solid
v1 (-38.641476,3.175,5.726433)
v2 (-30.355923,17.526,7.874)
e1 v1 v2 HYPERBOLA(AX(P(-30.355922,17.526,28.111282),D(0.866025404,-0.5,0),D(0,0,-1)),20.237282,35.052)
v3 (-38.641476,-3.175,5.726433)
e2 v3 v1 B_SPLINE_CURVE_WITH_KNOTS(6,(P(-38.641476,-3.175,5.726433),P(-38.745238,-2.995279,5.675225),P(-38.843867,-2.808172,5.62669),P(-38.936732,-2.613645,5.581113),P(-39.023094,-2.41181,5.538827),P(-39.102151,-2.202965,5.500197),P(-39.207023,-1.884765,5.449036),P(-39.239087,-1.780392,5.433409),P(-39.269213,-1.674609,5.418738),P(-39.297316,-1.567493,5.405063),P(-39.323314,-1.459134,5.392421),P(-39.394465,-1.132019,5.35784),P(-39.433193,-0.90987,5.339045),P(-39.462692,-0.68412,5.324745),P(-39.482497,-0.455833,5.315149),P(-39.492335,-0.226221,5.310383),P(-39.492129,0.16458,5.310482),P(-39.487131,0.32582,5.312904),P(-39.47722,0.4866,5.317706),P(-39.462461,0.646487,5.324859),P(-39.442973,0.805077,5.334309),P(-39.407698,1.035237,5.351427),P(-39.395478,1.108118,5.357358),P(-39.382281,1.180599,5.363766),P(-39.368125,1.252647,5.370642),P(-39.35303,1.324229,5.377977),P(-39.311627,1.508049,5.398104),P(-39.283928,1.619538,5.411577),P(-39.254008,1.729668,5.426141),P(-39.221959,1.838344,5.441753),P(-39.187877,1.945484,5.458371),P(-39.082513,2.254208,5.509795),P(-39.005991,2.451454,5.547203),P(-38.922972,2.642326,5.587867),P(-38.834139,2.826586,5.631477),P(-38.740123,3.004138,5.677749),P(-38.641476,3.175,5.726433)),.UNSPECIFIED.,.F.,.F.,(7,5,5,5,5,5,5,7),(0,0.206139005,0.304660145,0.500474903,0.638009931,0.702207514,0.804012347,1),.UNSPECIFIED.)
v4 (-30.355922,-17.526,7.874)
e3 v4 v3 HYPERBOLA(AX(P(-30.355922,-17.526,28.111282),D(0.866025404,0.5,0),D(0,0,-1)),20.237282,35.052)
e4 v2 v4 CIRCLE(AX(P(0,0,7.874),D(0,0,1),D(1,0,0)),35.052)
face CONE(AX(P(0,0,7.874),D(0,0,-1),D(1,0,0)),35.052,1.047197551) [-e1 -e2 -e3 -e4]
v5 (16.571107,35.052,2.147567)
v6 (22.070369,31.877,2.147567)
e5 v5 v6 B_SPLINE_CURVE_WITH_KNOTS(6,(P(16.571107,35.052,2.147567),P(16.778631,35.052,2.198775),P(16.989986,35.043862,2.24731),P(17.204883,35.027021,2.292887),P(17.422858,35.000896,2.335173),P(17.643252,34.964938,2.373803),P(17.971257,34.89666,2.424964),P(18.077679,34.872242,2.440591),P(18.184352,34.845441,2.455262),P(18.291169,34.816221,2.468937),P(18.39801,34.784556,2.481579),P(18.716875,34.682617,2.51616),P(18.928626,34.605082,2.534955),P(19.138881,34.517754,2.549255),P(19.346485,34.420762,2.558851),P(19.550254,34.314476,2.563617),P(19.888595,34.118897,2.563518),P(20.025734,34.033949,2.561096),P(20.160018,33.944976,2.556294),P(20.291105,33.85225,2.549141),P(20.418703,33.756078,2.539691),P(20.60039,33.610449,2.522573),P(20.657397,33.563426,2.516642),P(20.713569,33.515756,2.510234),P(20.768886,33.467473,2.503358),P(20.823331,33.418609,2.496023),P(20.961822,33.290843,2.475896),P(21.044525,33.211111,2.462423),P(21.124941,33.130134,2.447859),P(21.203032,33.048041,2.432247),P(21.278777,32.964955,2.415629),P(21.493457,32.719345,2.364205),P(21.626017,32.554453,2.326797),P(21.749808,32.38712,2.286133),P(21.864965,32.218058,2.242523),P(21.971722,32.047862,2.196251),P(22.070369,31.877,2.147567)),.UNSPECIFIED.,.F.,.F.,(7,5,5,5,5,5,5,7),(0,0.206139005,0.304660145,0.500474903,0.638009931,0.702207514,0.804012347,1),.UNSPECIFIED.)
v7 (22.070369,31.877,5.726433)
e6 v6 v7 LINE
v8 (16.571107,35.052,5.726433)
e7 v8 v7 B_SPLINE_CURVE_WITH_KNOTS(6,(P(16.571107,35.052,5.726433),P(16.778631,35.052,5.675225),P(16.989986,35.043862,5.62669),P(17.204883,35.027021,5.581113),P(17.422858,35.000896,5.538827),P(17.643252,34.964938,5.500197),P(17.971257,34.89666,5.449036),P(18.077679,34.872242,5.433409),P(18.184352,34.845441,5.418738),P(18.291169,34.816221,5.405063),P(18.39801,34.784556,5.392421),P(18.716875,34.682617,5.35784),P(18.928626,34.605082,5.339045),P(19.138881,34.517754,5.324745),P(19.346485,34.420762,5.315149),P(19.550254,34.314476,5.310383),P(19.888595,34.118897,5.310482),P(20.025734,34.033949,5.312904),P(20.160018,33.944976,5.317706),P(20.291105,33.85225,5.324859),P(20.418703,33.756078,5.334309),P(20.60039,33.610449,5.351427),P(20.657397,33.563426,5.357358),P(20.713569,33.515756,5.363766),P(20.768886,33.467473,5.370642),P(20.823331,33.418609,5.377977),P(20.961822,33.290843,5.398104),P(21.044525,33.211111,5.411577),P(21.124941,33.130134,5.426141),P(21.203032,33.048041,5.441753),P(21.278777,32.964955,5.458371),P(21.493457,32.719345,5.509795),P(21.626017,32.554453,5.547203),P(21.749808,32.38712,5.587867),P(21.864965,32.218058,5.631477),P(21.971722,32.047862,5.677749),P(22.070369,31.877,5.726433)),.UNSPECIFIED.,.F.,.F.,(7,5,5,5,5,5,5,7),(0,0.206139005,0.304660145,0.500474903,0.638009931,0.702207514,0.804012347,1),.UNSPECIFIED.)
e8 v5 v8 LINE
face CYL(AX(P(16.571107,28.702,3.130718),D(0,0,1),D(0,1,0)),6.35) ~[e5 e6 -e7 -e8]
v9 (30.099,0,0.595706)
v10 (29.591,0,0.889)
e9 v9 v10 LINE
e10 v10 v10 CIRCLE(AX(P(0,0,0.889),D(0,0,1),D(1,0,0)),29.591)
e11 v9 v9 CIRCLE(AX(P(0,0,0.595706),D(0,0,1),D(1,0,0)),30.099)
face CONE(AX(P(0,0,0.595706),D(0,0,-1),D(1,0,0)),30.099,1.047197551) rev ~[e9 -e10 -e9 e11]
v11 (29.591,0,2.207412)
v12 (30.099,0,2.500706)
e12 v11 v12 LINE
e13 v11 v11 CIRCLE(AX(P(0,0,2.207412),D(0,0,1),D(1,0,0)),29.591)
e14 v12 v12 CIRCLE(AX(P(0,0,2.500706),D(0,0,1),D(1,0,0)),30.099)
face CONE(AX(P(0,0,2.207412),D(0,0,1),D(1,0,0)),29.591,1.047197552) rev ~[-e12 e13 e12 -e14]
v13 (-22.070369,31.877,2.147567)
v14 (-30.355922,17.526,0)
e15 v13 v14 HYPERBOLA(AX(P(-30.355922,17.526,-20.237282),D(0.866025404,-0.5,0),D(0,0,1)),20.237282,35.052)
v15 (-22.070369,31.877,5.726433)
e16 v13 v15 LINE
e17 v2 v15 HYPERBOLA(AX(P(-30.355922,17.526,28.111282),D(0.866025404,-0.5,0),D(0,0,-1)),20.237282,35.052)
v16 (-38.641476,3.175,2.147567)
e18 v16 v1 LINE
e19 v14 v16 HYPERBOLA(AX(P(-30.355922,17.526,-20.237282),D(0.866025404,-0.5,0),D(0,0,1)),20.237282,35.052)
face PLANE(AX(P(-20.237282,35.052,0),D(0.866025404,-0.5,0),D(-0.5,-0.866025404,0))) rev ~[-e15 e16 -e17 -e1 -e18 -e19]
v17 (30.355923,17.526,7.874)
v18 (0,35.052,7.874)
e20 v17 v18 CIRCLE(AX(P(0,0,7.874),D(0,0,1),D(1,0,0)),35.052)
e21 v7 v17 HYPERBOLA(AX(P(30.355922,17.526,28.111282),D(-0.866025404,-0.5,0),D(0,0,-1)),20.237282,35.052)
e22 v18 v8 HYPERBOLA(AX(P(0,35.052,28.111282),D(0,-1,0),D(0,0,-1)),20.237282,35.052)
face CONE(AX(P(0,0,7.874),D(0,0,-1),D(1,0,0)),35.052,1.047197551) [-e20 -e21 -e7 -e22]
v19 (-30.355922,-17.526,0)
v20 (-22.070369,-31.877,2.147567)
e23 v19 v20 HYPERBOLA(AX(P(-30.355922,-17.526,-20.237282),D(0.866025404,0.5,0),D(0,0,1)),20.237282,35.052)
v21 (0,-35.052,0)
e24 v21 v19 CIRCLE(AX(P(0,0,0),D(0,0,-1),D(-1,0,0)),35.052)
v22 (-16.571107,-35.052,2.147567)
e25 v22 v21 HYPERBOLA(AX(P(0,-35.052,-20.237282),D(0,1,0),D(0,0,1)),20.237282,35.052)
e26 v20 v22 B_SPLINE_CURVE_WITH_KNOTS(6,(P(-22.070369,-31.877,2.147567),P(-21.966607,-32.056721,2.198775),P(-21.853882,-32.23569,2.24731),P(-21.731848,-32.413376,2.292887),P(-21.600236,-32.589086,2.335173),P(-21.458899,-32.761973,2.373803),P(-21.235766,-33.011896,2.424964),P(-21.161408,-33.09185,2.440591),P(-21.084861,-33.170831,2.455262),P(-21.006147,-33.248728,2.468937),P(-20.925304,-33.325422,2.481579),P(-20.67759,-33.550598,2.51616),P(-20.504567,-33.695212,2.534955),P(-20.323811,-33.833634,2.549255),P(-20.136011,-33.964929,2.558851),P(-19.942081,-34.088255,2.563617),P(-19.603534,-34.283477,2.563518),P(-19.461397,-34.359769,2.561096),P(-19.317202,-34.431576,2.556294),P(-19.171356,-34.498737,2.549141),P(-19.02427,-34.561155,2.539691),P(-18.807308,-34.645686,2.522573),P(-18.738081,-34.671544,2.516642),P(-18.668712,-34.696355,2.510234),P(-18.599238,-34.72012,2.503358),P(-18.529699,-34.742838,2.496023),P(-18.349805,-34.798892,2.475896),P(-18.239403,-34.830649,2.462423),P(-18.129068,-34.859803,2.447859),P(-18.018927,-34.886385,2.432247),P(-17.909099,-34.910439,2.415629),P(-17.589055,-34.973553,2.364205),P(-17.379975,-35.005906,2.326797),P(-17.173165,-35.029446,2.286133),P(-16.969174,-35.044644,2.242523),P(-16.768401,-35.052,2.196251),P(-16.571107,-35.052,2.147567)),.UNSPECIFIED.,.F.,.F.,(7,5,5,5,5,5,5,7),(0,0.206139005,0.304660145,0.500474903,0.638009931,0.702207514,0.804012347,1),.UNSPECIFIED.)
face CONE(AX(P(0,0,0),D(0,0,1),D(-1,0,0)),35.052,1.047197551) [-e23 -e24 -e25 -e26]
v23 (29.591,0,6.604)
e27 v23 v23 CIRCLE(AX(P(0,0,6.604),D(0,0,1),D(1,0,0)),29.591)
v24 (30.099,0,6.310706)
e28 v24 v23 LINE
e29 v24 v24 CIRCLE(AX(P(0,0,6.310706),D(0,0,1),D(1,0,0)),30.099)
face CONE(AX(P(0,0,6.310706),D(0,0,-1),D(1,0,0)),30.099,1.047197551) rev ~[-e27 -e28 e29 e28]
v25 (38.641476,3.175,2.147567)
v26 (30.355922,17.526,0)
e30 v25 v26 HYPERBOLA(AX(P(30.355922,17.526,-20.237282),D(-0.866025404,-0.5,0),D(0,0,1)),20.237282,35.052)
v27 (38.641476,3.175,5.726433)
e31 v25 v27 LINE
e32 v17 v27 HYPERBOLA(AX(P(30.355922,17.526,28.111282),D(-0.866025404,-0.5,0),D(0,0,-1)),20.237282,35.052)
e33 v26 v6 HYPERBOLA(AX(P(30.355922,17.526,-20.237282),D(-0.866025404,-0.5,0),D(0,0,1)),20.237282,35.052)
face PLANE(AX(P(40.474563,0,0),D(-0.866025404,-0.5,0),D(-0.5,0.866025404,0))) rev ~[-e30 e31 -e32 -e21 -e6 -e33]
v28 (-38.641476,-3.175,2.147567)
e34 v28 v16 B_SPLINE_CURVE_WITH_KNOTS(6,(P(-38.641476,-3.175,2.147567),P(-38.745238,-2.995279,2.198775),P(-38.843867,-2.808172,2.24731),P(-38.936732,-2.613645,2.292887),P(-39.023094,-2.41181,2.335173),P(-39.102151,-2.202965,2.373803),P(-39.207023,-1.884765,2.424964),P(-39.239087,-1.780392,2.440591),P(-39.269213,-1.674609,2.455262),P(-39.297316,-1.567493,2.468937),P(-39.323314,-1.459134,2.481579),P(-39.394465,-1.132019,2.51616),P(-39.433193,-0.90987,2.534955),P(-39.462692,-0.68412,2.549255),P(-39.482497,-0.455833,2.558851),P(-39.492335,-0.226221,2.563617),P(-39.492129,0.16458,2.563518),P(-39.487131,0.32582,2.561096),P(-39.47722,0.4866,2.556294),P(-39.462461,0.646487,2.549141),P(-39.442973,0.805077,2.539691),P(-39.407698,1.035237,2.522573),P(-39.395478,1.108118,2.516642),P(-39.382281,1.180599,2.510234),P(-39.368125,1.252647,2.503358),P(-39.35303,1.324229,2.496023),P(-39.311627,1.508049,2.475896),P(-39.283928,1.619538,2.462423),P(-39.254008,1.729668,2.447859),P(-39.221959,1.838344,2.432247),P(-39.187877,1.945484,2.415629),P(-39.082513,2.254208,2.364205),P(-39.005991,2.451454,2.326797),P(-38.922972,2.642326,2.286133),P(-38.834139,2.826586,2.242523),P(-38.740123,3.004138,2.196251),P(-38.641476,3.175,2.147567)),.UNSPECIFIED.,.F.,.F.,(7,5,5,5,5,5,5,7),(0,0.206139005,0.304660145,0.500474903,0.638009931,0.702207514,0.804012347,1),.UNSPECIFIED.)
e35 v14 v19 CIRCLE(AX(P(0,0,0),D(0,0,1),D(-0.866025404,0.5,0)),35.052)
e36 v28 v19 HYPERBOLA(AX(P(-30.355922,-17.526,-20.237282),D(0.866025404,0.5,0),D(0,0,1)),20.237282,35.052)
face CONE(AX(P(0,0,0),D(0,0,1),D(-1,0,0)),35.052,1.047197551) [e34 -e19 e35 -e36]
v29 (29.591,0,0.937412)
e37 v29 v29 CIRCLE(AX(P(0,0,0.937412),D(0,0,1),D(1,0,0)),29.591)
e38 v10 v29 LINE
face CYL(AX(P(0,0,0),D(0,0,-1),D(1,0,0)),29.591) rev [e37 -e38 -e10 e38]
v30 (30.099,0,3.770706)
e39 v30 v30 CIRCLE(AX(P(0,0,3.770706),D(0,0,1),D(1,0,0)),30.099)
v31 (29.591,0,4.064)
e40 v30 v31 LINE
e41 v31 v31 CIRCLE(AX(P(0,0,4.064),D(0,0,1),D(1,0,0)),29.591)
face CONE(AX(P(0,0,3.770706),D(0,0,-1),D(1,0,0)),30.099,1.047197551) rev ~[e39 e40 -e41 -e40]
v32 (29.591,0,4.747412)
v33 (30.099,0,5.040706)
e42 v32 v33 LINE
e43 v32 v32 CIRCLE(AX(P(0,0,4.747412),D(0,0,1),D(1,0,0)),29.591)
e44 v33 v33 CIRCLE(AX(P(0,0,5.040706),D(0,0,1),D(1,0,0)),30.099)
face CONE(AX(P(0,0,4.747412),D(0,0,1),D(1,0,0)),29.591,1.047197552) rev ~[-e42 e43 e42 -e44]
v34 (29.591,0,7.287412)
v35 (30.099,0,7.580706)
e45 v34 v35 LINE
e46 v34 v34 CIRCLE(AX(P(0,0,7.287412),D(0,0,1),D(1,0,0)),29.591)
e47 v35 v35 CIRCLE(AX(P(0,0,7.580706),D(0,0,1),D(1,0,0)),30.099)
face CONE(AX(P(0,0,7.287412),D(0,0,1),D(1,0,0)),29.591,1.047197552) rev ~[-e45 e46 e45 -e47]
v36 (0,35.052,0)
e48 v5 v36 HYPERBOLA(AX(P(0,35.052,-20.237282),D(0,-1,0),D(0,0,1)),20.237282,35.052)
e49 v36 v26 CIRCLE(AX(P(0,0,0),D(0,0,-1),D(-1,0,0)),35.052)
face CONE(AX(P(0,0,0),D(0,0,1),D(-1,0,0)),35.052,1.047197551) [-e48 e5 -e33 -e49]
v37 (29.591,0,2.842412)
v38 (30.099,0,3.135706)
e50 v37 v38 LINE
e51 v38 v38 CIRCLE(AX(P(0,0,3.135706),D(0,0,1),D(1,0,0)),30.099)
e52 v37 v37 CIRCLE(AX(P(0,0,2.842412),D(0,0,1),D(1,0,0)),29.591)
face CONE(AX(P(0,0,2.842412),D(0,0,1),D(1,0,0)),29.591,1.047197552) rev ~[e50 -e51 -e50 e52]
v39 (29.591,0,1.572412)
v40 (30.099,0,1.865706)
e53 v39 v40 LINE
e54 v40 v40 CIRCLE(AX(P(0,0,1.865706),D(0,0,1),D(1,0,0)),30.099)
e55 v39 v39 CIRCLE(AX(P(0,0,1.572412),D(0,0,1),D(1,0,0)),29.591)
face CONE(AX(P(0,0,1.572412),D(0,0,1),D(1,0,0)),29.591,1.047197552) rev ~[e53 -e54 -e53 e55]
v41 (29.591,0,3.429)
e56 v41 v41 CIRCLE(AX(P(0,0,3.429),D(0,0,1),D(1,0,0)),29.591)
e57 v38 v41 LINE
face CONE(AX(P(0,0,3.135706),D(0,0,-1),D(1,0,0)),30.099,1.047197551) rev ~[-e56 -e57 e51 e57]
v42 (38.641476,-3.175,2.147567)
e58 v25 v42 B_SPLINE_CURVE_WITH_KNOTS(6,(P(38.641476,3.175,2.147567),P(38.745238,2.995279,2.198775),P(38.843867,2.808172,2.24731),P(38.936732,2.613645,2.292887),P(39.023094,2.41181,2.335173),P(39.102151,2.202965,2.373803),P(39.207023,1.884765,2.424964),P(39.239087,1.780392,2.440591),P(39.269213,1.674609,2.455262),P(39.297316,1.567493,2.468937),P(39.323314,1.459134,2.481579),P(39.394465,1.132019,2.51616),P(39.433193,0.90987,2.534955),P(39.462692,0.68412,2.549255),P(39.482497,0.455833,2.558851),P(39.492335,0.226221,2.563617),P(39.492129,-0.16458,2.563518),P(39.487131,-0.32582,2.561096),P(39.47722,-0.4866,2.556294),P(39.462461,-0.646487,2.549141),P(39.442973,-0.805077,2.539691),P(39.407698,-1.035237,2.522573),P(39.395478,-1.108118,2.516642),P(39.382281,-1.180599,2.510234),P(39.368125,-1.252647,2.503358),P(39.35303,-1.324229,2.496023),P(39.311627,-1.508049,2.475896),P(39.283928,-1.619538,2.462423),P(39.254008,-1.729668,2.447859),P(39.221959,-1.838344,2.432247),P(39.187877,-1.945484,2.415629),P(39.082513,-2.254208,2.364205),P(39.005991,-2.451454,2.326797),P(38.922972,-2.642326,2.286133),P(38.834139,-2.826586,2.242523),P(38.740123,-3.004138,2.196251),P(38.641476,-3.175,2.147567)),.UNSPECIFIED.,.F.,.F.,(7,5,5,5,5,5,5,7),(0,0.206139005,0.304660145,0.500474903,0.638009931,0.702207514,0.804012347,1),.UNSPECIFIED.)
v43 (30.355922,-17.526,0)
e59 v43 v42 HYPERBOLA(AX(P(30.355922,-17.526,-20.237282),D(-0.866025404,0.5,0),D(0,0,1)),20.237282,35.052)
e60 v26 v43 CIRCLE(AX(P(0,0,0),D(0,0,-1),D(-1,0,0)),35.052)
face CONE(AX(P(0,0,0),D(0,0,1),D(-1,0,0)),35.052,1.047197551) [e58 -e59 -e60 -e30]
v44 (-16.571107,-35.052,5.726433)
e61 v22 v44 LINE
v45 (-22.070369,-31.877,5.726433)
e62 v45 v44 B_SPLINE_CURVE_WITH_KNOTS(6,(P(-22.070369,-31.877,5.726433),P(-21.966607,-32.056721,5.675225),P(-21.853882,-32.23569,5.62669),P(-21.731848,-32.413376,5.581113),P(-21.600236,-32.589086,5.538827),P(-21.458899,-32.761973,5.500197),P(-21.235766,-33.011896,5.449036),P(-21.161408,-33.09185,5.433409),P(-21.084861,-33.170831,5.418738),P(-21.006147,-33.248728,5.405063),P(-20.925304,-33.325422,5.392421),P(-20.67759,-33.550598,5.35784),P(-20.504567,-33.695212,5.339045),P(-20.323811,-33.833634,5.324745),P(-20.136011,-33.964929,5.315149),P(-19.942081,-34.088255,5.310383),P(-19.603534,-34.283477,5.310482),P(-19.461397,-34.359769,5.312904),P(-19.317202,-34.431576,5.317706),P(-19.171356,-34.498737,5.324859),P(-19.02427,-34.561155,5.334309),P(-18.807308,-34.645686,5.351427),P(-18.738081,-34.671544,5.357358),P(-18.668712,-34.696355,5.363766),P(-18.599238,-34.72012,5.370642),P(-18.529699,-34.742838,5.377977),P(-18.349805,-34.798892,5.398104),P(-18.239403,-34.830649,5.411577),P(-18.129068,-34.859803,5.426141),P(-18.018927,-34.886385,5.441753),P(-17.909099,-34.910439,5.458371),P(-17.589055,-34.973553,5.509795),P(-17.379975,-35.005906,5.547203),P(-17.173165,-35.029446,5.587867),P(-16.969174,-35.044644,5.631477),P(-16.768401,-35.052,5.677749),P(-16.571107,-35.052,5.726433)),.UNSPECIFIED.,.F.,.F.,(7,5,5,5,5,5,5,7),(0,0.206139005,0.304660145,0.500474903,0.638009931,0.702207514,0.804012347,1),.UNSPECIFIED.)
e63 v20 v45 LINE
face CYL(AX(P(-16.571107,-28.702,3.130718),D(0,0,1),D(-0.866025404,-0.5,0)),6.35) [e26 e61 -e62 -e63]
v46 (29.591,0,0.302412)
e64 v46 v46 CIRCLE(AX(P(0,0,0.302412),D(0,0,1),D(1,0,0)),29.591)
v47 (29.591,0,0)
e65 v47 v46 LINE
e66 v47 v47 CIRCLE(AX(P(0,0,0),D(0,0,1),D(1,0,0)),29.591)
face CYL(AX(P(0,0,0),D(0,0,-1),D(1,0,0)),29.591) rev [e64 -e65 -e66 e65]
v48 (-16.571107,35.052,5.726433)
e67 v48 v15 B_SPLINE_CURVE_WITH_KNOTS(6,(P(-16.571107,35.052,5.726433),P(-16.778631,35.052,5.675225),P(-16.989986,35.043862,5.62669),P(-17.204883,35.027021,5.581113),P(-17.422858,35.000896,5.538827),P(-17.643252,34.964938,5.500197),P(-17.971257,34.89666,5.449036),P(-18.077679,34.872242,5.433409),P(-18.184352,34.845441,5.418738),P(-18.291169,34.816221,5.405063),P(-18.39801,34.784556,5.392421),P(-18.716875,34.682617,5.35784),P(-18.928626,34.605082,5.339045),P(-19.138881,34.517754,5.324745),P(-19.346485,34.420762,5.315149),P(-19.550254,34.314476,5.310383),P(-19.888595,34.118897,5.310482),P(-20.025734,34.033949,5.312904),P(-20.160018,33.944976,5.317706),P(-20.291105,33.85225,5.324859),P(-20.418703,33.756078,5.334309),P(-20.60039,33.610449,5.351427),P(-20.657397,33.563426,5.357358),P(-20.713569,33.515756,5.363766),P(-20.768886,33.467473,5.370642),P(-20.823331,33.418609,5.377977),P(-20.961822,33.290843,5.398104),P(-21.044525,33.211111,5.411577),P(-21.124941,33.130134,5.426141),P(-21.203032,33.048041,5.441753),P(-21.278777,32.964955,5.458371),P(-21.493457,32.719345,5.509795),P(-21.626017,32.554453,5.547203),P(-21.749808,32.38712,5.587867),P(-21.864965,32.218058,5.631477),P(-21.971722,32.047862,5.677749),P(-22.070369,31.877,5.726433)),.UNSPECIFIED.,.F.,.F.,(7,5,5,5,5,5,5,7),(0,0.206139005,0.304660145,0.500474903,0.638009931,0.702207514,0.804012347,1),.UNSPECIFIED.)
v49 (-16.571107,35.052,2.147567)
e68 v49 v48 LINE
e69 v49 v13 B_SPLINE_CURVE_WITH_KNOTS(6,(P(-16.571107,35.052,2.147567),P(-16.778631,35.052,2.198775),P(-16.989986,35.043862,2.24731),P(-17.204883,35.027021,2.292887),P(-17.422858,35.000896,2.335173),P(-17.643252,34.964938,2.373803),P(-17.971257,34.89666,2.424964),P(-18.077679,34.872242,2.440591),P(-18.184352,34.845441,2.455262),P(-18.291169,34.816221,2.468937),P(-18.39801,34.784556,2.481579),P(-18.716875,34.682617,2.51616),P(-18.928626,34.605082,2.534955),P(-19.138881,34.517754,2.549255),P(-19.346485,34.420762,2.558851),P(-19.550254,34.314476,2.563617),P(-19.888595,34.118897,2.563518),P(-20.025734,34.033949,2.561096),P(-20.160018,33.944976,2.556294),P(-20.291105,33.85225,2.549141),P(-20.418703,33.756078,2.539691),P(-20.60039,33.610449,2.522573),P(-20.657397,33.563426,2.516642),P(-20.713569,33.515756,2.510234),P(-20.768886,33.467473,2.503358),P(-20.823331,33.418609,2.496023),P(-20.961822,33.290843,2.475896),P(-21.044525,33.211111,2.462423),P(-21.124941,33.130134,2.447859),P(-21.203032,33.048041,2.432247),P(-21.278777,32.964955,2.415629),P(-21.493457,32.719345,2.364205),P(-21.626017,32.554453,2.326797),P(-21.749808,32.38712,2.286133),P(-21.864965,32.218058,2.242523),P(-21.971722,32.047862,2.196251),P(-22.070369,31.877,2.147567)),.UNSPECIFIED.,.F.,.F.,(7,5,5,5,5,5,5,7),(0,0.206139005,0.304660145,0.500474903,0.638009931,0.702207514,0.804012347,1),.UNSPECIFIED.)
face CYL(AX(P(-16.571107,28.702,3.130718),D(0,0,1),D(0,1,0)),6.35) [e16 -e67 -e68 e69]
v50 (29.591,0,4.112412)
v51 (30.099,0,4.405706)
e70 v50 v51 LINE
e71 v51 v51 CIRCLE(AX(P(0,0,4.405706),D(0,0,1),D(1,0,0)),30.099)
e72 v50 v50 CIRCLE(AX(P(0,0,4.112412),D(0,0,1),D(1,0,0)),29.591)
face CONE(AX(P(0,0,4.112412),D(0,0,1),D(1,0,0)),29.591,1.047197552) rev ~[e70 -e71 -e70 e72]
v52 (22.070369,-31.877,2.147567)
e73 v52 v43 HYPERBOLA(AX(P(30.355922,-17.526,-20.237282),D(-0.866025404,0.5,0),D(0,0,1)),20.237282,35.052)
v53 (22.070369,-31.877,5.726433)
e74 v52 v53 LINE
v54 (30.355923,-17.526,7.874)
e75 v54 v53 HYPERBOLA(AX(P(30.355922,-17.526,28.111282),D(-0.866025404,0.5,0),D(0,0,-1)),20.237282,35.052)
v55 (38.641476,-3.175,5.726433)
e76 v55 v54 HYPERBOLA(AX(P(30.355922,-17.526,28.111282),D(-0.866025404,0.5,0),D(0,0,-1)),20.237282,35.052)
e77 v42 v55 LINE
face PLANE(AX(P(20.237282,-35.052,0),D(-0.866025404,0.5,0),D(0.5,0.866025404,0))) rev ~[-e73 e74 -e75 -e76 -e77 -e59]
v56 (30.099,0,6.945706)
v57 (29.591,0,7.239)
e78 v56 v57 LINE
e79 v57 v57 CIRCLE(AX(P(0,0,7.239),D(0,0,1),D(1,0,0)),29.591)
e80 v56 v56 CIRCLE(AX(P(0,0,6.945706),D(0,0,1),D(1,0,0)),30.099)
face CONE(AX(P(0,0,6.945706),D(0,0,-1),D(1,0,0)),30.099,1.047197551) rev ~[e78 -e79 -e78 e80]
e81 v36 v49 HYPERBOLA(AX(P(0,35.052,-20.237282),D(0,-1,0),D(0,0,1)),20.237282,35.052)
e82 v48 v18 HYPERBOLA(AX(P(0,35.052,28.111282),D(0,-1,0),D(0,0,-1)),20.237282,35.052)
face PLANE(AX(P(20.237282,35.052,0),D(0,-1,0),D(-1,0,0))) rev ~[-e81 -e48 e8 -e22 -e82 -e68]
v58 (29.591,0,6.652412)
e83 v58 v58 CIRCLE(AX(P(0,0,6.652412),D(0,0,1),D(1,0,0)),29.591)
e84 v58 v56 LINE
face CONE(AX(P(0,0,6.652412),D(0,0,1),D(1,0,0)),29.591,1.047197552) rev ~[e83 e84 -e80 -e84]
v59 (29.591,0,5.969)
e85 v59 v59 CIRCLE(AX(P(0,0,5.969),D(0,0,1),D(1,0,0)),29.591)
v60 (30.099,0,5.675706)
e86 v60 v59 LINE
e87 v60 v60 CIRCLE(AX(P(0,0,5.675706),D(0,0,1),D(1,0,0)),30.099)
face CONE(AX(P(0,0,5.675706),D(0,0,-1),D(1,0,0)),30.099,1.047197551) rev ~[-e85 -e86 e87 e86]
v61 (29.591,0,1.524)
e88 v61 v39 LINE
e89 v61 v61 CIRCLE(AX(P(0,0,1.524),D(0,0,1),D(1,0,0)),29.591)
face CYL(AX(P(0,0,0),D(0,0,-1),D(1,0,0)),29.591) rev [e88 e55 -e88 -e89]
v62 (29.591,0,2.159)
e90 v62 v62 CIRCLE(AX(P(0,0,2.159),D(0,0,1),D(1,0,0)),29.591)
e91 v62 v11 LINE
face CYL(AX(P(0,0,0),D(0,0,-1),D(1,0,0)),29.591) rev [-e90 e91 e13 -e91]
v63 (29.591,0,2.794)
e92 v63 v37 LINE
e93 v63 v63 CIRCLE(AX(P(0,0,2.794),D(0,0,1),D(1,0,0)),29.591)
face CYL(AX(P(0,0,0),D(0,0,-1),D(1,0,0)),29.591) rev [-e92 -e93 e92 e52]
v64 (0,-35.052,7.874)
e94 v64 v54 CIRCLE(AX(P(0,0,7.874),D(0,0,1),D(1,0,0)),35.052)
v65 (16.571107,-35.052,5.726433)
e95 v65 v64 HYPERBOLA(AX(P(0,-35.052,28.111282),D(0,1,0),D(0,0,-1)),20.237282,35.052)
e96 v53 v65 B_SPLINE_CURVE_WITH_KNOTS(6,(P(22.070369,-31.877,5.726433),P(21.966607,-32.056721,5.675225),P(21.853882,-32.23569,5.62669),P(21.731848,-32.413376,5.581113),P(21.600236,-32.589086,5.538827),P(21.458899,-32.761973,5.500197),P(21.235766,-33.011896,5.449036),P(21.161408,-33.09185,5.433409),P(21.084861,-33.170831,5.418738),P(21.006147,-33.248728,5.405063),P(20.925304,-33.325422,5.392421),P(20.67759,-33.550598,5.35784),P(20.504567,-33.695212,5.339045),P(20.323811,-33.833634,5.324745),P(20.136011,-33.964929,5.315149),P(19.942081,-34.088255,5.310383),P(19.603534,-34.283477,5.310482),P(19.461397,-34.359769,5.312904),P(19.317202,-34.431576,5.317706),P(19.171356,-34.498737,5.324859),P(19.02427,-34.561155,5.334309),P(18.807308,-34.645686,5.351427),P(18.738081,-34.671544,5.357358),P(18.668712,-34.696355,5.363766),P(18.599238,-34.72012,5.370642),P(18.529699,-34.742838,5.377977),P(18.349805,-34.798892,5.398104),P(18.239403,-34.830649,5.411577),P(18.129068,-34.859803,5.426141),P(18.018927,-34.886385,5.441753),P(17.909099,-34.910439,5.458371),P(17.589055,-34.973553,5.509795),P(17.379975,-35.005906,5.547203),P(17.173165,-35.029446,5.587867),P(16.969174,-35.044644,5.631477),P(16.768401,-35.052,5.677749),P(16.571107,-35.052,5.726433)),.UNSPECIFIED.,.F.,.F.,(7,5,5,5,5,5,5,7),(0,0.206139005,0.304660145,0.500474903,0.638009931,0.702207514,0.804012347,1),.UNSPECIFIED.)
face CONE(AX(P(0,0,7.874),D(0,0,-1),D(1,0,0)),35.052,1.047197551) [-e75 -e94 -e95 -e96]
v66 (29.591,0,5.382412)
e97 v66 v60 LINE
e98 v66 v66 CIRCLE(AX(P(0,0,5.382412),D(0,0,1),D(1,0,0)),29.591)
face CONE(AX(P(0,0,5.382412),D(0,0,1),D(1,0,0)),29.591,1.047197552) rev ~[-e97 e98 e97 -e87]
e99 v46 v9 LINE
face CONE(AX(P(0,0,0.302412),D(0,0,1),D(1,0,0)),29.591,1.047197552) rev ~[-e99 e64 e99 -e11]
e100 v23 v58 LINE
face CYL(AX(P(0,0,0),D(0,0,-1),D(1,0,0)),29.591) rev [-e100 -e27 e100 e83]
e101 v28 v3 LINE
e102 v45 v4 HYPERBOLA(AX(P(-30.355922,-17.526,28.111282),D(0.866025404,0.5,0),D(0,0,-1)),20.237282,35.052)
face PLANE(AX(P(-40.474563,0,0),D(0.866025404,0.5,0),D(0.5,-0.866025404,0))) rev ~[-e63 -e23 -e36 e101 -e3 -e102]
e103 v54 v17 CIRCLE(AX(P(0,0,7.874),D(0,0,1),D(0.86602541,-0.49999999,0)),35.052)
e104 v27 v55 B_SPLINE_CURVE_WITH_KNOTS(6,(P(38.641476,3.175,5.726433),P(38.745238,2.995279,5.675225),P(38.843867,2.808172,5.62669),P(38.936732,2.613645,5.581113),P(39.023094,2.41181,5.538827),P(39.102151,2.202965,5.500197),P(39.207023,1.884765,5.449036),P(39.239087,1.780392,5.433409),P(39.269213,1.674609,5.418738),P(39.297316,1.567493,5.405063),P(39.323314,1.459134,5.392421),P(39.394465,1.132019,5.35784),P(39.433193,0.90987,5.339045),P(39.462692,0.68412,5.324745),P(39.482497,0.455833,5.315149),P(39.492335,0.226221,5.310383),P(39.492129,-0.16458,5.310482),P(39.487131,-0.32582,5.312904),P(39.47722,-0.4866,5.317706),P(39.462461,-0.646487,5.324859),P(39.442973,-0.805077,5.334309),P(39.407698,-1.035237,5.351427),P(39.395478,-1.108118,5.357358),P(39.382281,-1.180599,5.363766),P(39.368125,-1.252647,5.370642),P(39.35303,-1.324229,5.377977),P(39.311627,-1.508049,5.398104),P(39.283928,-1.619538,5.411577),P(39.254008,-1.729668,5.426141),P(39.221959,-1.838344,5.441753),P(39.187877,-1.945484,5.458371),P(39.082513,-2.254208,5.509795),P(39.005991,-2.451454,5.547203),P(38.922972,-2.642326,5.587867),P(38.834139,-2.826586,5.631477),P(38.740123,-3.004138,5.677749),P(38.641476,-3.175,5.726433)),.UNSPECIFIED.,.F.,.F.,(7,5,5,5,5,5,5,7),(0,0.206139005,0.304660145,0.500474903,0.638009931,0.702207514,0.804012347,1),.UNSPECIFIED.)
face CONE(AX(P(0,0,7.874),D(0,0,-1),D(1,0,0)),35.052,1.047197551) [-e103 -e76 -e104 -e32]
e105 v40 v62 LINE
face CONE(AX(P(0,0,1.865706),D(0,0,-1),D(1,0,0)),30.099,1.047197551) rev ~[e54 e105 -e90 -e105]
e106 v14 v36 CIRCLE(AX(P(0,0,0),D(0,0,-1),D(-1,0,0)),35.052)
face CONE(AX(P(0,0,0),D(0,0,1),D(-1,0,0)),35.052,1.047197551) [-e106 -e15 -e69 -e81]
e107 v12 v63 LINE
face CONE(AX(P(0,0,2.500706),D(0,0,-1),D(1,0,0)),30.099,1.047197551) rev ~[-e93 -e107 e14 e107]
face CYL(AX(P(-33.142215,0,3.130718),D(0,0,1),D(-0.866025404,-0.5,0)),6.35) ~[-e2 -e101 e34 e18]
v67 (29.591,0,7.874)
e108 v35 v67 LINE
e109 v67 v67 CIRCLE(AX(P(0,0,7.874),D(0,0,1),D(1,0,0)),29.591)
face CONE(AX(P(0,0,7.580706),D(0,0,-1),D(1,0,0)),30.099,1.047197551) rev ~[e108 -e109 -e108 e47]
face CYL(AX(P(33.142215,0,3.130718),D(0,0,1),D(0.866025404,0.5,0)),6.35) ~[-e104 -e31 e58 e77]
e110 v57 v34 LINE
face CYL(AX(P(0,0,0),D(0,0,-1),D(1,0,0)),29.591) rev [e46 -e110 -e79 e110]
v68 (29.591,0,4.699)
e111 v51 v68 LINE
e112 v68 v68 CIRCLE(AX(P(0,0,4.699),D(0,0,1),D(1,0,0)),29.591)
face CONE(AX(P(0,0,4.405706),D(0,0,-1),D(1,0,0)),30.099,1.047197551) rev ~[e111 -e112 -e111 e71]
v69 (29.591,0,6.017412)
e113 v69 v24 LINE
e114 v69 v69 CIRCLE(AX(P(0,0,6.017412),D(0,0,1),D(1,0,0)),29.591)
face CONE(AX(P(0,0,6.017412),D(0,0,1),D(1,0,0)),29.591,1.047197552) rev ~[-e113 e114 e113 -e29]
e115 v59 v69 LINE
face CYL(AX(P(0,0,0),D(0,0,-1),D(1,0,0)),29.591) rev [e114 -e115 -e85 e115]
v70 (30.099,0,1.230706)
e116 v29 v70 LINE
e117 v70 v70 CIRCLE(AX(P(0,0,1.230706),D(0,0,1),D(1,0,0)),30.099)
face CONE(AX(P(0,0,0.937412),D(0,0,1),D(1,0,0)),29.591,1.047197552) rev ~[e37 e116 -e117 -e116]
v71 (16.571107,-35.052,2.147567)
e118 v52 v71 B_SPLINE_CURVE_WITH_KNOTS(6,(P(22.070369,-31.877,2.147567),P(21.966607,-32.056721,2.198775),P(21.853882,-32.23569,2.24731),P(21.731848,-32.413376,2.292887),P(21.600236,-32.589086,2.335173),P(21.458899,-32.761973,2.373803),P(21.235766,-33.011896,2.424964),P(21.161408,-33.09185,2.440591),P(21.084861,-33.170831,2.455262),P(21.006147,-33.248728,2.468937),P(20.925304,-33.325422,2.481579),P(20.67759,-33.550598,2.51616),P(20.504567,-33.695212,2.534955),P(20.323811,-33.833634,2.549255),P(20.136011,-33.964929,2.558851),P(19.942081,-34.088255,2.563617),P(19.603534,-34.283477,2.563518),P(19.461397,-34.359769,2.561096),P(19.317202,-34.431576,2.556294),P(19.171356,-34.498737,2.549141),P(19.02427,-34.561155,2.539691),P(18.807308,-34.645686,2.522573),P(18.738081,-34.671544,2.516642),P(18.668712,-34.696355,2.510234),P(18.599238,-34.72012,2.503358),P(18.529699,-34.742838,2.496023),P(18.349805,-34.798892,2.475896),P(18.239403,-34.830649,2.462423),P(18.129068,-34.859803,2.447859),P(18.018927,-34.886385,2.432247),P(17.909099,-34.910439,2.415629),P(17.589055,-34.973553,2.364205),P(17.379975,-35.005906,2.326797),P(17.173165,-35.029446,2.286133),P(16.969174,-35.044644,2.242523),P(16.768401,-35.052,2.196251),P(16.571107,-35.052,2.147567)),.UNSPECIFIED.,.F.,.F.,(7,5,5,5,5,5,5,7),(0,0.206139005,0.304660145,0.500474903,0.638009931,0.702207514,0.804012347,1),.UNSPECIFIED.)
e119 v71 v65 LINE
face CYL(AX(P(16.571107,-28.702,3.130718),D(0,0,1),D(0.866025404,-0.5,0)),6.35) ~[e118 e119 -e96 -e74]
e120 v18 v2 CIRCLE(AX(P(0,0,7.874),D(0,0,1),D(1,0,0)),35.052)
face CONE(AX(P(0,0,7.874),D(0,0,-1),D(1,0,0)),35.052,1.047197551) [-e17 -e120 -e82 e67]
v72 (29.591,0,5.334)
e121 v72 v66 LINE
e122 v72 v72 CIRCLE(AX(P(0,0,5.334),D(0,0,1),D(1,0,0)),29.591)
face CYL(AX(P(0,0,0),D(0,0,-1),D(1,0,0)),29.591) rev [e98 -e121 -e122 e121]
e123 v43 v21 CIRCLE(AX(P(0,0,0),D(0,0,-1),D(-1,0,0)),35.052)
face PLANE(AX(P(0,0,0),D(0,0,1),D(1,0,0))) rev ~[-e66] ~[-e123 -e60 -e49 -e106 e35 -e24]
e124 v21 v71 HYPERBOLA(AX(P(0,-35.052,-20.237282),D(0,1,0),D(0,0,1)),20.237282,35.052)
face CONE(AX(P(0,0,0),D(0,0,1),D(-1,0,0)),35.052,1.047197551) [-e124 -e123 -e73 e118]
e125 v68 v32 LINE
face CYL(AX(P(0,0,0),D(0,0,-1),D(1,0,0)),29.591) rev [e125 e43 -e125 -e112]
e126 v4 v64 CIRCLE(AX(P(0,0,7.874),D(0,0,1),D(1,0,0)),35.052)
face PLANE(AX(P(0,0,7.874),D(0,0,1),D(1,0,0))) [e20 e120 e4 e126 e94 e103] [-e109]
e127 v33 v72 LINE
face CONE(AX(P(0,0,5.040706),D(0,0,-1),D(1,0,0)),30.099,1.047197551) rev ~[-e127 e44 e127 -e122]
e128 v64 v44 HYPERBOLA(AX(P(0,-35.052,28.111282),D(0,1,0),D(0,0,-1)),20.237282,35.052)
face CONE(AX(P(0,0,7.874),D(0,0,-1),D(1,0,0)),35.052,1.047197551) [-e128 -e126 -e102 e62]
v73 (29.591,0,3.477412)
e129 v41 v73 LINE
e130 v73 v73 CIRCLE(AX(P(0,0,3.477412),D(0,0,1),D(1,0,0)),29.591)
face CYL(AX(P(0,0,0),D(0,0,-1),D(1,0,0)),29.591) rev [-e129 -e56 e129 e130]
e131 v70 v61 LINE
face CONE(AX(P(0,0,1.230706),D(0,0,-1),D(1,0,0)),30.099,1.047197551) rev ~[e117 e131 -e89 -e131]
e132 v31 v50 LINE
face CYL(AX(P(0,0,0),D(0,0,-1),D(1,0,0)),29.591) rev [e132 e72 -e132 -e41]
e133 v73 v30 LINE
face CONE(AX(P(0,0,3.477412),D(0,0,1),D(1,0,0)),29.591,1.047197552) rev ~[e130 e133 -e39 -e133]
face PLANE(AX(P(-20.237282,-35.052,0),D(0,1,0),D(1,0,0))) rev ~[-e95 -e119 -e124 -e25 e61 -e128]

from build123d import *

# Parameters (mm, degrees)
SKETCH1_R          = 29.591
EXTRUDE1_DEPTH     = 7.874
SKETCH2_OUTSIDE_W  = 135.166
SKETCH2_OUTSIDE_H  = 124.32
SKETCH2_OUTSIDE_R  = 35.052
CUT_EXTRUDE1_DEPTH = 8.874
CUT_EXTRUDE1_DRAFT = -60
SKETCH3_OUTSIDE_W  = 135.166
SKETCH3_OUTSIDE_H  = 124.32
SKETCH3_OUTSIDE_R  = 35.052
CUT_EXTRUDE2_DEPTH = 8.874
CUT_EXTRUDE2_DRAFT = -60
FILLET1_R          = 6.35
LPATTERN1_COUNT    = 12
LPATTERN1_PITCH    = 0.635


with BuildPart() as part:
    # Sketch1 → Extrude1 (new body)
    with BuildSketch(Plane.XY):
        Polygon((-40.474563271, 0), (-20.237281636, -35.052), (20.237281636, -35.052), (40.474563271, 0), (20.237281636, 35.052), (-20.237281636, 35.052), align=None)
        Circle(SKETCH1_R, mode=Mode.SUBTRACT)
    extrude(amount=EXTRUDE1_DEPTH)


with BuildPart() as cut_extrude1_tool:
    # Sketch2 outside → Cut-Extrude1 (with draft: the straight prism first)
    with BuildSketch(Plane.XY.offset(7.874)):
        Rectangle(SKETCH2_OUTSIDE_W, SKETCH2_OUTSIDE_H)
        Circle(SKETCH2_OUTSIDE_R, mode=Mode.SUBTRACT)
    extrude(amount=-CUT_EXTRUDE1_DEPTH)
    # Cut-Extrude1: the draft: its side faces are tilted about the plane it starts from
    cut_extrude1_sides = [cut_extrude1_tool.faces().sort_by_distance(p)[0] for p in [
        (0, -62.16, 3.437),
        (67.583, 0, 3.437),
        (0, 62.16, 3.437),
        (-67.583, 0, 3.437),
        (-35.052, 0, 3.437),
    ]]
    draft(cut_extrude1_sides, Plane.XY.offset(7.874), CUT_EXTRUDE1_DRAFT)


with BuildPart() as part_1:
    add(part.part)

    # Cut-Extrude1: cut by cut_extrude1_tool
    add(cut_extrude1_tool.part, mode=Mode.SUBTRACT)


with BuildPart() as cut_extrude2_tool:
    # Sketch3 outside → Cut-Extrude2 (with draft: the straight prism first)
    with BuildSketch(Plane(origin=(0, 0, 0), x_dir=(-1, 0, 0), z_dir=(0, 0, -1))):
        Rectangle(SKETCH3_OUTSIDE_W, SKETCH3_OUTSIDE_H)
        Circle(SKETCH3_OUTSIDE_R, mode=Mode.SUBTRACT)
    extrude(amount=-CUT_EXTRUDE2_DEPTH)
    # Cut-Extrude2: the draft: its side faces are tilted about the plane it starts from
    cut_extrude2_sides = [cut_extrude2_tool.faces().sort_by_distance(p)[0] for p in [
        (0, -62.16, 4.437),
        (-67.583, 0, 4.437),
        (0, 62.16, 4.437),
        (67.583, 0, 4.437),
        (35.052, 0, 4.437),
    ]]
    draft(cut_extrude2_sides, Plane(origin=(0, 0, 0), x_dir=(-1, 0, 0), z_dir=(0, 0, -1)), CUT_EXTRUDE2_DRAFT)


with BuildPart() as part_2:
    add(part_1.part)

    # Cut-Extrude2: cut by cut_extrude2_tool
    add(cut_extrude2_tool.part, mode=Mode.SUBTRACT)

    # Fillet1
    fillet1_edges = [part_2.edges().sort_by_distance(p)[0] for p in [
        (40.474563271, 0, 3.937),
        (20.237281636, -35.052, 3.937),
        (-20.237281636, -35.052, 3.937),
        (-40.474563271, 0, 3.937),
        (-20.237281636, 35.052, 3.937),
        (20.237281636, 35.052, 3.937),
    ]]
    fillet(fillet1_edges, radius=FILLET1_R)

    # Sketch4 → Cut-Revolve1 (revolve, cut)
    with BuildSketch(Plane(origin=(0, 0, 0), x_dir=(1, 0, 0), z_dir=(0, 1, 0)), mode=Mode.PRIVATE) as cut_revolve1_sk:
        Polygon((-29.591, -7.874), (-29.591, -7.287412127), (-30.099, -7.580706063), align=None)
    cut_revolve1 = revolve(cut_revolve1_sk.sketch.rotate(Axis((0, 0, 0), (0, 0, 1)), 180), axis=Axis((0, 0, 0), (0, 0, 1)), mode=Mode.SUBTRACT)  # turned: the seam where the file's is

    # LPattern1: Cut-Revolve1 ×12
    with Locations(*[(0, 0, -i * LPATTERN1_PITCH) for i in range(1, LPATTERN1_COUNT)]):
        add(cut_revolve1, mode=Mode.SUBTRACT)


solid = part_2.part
